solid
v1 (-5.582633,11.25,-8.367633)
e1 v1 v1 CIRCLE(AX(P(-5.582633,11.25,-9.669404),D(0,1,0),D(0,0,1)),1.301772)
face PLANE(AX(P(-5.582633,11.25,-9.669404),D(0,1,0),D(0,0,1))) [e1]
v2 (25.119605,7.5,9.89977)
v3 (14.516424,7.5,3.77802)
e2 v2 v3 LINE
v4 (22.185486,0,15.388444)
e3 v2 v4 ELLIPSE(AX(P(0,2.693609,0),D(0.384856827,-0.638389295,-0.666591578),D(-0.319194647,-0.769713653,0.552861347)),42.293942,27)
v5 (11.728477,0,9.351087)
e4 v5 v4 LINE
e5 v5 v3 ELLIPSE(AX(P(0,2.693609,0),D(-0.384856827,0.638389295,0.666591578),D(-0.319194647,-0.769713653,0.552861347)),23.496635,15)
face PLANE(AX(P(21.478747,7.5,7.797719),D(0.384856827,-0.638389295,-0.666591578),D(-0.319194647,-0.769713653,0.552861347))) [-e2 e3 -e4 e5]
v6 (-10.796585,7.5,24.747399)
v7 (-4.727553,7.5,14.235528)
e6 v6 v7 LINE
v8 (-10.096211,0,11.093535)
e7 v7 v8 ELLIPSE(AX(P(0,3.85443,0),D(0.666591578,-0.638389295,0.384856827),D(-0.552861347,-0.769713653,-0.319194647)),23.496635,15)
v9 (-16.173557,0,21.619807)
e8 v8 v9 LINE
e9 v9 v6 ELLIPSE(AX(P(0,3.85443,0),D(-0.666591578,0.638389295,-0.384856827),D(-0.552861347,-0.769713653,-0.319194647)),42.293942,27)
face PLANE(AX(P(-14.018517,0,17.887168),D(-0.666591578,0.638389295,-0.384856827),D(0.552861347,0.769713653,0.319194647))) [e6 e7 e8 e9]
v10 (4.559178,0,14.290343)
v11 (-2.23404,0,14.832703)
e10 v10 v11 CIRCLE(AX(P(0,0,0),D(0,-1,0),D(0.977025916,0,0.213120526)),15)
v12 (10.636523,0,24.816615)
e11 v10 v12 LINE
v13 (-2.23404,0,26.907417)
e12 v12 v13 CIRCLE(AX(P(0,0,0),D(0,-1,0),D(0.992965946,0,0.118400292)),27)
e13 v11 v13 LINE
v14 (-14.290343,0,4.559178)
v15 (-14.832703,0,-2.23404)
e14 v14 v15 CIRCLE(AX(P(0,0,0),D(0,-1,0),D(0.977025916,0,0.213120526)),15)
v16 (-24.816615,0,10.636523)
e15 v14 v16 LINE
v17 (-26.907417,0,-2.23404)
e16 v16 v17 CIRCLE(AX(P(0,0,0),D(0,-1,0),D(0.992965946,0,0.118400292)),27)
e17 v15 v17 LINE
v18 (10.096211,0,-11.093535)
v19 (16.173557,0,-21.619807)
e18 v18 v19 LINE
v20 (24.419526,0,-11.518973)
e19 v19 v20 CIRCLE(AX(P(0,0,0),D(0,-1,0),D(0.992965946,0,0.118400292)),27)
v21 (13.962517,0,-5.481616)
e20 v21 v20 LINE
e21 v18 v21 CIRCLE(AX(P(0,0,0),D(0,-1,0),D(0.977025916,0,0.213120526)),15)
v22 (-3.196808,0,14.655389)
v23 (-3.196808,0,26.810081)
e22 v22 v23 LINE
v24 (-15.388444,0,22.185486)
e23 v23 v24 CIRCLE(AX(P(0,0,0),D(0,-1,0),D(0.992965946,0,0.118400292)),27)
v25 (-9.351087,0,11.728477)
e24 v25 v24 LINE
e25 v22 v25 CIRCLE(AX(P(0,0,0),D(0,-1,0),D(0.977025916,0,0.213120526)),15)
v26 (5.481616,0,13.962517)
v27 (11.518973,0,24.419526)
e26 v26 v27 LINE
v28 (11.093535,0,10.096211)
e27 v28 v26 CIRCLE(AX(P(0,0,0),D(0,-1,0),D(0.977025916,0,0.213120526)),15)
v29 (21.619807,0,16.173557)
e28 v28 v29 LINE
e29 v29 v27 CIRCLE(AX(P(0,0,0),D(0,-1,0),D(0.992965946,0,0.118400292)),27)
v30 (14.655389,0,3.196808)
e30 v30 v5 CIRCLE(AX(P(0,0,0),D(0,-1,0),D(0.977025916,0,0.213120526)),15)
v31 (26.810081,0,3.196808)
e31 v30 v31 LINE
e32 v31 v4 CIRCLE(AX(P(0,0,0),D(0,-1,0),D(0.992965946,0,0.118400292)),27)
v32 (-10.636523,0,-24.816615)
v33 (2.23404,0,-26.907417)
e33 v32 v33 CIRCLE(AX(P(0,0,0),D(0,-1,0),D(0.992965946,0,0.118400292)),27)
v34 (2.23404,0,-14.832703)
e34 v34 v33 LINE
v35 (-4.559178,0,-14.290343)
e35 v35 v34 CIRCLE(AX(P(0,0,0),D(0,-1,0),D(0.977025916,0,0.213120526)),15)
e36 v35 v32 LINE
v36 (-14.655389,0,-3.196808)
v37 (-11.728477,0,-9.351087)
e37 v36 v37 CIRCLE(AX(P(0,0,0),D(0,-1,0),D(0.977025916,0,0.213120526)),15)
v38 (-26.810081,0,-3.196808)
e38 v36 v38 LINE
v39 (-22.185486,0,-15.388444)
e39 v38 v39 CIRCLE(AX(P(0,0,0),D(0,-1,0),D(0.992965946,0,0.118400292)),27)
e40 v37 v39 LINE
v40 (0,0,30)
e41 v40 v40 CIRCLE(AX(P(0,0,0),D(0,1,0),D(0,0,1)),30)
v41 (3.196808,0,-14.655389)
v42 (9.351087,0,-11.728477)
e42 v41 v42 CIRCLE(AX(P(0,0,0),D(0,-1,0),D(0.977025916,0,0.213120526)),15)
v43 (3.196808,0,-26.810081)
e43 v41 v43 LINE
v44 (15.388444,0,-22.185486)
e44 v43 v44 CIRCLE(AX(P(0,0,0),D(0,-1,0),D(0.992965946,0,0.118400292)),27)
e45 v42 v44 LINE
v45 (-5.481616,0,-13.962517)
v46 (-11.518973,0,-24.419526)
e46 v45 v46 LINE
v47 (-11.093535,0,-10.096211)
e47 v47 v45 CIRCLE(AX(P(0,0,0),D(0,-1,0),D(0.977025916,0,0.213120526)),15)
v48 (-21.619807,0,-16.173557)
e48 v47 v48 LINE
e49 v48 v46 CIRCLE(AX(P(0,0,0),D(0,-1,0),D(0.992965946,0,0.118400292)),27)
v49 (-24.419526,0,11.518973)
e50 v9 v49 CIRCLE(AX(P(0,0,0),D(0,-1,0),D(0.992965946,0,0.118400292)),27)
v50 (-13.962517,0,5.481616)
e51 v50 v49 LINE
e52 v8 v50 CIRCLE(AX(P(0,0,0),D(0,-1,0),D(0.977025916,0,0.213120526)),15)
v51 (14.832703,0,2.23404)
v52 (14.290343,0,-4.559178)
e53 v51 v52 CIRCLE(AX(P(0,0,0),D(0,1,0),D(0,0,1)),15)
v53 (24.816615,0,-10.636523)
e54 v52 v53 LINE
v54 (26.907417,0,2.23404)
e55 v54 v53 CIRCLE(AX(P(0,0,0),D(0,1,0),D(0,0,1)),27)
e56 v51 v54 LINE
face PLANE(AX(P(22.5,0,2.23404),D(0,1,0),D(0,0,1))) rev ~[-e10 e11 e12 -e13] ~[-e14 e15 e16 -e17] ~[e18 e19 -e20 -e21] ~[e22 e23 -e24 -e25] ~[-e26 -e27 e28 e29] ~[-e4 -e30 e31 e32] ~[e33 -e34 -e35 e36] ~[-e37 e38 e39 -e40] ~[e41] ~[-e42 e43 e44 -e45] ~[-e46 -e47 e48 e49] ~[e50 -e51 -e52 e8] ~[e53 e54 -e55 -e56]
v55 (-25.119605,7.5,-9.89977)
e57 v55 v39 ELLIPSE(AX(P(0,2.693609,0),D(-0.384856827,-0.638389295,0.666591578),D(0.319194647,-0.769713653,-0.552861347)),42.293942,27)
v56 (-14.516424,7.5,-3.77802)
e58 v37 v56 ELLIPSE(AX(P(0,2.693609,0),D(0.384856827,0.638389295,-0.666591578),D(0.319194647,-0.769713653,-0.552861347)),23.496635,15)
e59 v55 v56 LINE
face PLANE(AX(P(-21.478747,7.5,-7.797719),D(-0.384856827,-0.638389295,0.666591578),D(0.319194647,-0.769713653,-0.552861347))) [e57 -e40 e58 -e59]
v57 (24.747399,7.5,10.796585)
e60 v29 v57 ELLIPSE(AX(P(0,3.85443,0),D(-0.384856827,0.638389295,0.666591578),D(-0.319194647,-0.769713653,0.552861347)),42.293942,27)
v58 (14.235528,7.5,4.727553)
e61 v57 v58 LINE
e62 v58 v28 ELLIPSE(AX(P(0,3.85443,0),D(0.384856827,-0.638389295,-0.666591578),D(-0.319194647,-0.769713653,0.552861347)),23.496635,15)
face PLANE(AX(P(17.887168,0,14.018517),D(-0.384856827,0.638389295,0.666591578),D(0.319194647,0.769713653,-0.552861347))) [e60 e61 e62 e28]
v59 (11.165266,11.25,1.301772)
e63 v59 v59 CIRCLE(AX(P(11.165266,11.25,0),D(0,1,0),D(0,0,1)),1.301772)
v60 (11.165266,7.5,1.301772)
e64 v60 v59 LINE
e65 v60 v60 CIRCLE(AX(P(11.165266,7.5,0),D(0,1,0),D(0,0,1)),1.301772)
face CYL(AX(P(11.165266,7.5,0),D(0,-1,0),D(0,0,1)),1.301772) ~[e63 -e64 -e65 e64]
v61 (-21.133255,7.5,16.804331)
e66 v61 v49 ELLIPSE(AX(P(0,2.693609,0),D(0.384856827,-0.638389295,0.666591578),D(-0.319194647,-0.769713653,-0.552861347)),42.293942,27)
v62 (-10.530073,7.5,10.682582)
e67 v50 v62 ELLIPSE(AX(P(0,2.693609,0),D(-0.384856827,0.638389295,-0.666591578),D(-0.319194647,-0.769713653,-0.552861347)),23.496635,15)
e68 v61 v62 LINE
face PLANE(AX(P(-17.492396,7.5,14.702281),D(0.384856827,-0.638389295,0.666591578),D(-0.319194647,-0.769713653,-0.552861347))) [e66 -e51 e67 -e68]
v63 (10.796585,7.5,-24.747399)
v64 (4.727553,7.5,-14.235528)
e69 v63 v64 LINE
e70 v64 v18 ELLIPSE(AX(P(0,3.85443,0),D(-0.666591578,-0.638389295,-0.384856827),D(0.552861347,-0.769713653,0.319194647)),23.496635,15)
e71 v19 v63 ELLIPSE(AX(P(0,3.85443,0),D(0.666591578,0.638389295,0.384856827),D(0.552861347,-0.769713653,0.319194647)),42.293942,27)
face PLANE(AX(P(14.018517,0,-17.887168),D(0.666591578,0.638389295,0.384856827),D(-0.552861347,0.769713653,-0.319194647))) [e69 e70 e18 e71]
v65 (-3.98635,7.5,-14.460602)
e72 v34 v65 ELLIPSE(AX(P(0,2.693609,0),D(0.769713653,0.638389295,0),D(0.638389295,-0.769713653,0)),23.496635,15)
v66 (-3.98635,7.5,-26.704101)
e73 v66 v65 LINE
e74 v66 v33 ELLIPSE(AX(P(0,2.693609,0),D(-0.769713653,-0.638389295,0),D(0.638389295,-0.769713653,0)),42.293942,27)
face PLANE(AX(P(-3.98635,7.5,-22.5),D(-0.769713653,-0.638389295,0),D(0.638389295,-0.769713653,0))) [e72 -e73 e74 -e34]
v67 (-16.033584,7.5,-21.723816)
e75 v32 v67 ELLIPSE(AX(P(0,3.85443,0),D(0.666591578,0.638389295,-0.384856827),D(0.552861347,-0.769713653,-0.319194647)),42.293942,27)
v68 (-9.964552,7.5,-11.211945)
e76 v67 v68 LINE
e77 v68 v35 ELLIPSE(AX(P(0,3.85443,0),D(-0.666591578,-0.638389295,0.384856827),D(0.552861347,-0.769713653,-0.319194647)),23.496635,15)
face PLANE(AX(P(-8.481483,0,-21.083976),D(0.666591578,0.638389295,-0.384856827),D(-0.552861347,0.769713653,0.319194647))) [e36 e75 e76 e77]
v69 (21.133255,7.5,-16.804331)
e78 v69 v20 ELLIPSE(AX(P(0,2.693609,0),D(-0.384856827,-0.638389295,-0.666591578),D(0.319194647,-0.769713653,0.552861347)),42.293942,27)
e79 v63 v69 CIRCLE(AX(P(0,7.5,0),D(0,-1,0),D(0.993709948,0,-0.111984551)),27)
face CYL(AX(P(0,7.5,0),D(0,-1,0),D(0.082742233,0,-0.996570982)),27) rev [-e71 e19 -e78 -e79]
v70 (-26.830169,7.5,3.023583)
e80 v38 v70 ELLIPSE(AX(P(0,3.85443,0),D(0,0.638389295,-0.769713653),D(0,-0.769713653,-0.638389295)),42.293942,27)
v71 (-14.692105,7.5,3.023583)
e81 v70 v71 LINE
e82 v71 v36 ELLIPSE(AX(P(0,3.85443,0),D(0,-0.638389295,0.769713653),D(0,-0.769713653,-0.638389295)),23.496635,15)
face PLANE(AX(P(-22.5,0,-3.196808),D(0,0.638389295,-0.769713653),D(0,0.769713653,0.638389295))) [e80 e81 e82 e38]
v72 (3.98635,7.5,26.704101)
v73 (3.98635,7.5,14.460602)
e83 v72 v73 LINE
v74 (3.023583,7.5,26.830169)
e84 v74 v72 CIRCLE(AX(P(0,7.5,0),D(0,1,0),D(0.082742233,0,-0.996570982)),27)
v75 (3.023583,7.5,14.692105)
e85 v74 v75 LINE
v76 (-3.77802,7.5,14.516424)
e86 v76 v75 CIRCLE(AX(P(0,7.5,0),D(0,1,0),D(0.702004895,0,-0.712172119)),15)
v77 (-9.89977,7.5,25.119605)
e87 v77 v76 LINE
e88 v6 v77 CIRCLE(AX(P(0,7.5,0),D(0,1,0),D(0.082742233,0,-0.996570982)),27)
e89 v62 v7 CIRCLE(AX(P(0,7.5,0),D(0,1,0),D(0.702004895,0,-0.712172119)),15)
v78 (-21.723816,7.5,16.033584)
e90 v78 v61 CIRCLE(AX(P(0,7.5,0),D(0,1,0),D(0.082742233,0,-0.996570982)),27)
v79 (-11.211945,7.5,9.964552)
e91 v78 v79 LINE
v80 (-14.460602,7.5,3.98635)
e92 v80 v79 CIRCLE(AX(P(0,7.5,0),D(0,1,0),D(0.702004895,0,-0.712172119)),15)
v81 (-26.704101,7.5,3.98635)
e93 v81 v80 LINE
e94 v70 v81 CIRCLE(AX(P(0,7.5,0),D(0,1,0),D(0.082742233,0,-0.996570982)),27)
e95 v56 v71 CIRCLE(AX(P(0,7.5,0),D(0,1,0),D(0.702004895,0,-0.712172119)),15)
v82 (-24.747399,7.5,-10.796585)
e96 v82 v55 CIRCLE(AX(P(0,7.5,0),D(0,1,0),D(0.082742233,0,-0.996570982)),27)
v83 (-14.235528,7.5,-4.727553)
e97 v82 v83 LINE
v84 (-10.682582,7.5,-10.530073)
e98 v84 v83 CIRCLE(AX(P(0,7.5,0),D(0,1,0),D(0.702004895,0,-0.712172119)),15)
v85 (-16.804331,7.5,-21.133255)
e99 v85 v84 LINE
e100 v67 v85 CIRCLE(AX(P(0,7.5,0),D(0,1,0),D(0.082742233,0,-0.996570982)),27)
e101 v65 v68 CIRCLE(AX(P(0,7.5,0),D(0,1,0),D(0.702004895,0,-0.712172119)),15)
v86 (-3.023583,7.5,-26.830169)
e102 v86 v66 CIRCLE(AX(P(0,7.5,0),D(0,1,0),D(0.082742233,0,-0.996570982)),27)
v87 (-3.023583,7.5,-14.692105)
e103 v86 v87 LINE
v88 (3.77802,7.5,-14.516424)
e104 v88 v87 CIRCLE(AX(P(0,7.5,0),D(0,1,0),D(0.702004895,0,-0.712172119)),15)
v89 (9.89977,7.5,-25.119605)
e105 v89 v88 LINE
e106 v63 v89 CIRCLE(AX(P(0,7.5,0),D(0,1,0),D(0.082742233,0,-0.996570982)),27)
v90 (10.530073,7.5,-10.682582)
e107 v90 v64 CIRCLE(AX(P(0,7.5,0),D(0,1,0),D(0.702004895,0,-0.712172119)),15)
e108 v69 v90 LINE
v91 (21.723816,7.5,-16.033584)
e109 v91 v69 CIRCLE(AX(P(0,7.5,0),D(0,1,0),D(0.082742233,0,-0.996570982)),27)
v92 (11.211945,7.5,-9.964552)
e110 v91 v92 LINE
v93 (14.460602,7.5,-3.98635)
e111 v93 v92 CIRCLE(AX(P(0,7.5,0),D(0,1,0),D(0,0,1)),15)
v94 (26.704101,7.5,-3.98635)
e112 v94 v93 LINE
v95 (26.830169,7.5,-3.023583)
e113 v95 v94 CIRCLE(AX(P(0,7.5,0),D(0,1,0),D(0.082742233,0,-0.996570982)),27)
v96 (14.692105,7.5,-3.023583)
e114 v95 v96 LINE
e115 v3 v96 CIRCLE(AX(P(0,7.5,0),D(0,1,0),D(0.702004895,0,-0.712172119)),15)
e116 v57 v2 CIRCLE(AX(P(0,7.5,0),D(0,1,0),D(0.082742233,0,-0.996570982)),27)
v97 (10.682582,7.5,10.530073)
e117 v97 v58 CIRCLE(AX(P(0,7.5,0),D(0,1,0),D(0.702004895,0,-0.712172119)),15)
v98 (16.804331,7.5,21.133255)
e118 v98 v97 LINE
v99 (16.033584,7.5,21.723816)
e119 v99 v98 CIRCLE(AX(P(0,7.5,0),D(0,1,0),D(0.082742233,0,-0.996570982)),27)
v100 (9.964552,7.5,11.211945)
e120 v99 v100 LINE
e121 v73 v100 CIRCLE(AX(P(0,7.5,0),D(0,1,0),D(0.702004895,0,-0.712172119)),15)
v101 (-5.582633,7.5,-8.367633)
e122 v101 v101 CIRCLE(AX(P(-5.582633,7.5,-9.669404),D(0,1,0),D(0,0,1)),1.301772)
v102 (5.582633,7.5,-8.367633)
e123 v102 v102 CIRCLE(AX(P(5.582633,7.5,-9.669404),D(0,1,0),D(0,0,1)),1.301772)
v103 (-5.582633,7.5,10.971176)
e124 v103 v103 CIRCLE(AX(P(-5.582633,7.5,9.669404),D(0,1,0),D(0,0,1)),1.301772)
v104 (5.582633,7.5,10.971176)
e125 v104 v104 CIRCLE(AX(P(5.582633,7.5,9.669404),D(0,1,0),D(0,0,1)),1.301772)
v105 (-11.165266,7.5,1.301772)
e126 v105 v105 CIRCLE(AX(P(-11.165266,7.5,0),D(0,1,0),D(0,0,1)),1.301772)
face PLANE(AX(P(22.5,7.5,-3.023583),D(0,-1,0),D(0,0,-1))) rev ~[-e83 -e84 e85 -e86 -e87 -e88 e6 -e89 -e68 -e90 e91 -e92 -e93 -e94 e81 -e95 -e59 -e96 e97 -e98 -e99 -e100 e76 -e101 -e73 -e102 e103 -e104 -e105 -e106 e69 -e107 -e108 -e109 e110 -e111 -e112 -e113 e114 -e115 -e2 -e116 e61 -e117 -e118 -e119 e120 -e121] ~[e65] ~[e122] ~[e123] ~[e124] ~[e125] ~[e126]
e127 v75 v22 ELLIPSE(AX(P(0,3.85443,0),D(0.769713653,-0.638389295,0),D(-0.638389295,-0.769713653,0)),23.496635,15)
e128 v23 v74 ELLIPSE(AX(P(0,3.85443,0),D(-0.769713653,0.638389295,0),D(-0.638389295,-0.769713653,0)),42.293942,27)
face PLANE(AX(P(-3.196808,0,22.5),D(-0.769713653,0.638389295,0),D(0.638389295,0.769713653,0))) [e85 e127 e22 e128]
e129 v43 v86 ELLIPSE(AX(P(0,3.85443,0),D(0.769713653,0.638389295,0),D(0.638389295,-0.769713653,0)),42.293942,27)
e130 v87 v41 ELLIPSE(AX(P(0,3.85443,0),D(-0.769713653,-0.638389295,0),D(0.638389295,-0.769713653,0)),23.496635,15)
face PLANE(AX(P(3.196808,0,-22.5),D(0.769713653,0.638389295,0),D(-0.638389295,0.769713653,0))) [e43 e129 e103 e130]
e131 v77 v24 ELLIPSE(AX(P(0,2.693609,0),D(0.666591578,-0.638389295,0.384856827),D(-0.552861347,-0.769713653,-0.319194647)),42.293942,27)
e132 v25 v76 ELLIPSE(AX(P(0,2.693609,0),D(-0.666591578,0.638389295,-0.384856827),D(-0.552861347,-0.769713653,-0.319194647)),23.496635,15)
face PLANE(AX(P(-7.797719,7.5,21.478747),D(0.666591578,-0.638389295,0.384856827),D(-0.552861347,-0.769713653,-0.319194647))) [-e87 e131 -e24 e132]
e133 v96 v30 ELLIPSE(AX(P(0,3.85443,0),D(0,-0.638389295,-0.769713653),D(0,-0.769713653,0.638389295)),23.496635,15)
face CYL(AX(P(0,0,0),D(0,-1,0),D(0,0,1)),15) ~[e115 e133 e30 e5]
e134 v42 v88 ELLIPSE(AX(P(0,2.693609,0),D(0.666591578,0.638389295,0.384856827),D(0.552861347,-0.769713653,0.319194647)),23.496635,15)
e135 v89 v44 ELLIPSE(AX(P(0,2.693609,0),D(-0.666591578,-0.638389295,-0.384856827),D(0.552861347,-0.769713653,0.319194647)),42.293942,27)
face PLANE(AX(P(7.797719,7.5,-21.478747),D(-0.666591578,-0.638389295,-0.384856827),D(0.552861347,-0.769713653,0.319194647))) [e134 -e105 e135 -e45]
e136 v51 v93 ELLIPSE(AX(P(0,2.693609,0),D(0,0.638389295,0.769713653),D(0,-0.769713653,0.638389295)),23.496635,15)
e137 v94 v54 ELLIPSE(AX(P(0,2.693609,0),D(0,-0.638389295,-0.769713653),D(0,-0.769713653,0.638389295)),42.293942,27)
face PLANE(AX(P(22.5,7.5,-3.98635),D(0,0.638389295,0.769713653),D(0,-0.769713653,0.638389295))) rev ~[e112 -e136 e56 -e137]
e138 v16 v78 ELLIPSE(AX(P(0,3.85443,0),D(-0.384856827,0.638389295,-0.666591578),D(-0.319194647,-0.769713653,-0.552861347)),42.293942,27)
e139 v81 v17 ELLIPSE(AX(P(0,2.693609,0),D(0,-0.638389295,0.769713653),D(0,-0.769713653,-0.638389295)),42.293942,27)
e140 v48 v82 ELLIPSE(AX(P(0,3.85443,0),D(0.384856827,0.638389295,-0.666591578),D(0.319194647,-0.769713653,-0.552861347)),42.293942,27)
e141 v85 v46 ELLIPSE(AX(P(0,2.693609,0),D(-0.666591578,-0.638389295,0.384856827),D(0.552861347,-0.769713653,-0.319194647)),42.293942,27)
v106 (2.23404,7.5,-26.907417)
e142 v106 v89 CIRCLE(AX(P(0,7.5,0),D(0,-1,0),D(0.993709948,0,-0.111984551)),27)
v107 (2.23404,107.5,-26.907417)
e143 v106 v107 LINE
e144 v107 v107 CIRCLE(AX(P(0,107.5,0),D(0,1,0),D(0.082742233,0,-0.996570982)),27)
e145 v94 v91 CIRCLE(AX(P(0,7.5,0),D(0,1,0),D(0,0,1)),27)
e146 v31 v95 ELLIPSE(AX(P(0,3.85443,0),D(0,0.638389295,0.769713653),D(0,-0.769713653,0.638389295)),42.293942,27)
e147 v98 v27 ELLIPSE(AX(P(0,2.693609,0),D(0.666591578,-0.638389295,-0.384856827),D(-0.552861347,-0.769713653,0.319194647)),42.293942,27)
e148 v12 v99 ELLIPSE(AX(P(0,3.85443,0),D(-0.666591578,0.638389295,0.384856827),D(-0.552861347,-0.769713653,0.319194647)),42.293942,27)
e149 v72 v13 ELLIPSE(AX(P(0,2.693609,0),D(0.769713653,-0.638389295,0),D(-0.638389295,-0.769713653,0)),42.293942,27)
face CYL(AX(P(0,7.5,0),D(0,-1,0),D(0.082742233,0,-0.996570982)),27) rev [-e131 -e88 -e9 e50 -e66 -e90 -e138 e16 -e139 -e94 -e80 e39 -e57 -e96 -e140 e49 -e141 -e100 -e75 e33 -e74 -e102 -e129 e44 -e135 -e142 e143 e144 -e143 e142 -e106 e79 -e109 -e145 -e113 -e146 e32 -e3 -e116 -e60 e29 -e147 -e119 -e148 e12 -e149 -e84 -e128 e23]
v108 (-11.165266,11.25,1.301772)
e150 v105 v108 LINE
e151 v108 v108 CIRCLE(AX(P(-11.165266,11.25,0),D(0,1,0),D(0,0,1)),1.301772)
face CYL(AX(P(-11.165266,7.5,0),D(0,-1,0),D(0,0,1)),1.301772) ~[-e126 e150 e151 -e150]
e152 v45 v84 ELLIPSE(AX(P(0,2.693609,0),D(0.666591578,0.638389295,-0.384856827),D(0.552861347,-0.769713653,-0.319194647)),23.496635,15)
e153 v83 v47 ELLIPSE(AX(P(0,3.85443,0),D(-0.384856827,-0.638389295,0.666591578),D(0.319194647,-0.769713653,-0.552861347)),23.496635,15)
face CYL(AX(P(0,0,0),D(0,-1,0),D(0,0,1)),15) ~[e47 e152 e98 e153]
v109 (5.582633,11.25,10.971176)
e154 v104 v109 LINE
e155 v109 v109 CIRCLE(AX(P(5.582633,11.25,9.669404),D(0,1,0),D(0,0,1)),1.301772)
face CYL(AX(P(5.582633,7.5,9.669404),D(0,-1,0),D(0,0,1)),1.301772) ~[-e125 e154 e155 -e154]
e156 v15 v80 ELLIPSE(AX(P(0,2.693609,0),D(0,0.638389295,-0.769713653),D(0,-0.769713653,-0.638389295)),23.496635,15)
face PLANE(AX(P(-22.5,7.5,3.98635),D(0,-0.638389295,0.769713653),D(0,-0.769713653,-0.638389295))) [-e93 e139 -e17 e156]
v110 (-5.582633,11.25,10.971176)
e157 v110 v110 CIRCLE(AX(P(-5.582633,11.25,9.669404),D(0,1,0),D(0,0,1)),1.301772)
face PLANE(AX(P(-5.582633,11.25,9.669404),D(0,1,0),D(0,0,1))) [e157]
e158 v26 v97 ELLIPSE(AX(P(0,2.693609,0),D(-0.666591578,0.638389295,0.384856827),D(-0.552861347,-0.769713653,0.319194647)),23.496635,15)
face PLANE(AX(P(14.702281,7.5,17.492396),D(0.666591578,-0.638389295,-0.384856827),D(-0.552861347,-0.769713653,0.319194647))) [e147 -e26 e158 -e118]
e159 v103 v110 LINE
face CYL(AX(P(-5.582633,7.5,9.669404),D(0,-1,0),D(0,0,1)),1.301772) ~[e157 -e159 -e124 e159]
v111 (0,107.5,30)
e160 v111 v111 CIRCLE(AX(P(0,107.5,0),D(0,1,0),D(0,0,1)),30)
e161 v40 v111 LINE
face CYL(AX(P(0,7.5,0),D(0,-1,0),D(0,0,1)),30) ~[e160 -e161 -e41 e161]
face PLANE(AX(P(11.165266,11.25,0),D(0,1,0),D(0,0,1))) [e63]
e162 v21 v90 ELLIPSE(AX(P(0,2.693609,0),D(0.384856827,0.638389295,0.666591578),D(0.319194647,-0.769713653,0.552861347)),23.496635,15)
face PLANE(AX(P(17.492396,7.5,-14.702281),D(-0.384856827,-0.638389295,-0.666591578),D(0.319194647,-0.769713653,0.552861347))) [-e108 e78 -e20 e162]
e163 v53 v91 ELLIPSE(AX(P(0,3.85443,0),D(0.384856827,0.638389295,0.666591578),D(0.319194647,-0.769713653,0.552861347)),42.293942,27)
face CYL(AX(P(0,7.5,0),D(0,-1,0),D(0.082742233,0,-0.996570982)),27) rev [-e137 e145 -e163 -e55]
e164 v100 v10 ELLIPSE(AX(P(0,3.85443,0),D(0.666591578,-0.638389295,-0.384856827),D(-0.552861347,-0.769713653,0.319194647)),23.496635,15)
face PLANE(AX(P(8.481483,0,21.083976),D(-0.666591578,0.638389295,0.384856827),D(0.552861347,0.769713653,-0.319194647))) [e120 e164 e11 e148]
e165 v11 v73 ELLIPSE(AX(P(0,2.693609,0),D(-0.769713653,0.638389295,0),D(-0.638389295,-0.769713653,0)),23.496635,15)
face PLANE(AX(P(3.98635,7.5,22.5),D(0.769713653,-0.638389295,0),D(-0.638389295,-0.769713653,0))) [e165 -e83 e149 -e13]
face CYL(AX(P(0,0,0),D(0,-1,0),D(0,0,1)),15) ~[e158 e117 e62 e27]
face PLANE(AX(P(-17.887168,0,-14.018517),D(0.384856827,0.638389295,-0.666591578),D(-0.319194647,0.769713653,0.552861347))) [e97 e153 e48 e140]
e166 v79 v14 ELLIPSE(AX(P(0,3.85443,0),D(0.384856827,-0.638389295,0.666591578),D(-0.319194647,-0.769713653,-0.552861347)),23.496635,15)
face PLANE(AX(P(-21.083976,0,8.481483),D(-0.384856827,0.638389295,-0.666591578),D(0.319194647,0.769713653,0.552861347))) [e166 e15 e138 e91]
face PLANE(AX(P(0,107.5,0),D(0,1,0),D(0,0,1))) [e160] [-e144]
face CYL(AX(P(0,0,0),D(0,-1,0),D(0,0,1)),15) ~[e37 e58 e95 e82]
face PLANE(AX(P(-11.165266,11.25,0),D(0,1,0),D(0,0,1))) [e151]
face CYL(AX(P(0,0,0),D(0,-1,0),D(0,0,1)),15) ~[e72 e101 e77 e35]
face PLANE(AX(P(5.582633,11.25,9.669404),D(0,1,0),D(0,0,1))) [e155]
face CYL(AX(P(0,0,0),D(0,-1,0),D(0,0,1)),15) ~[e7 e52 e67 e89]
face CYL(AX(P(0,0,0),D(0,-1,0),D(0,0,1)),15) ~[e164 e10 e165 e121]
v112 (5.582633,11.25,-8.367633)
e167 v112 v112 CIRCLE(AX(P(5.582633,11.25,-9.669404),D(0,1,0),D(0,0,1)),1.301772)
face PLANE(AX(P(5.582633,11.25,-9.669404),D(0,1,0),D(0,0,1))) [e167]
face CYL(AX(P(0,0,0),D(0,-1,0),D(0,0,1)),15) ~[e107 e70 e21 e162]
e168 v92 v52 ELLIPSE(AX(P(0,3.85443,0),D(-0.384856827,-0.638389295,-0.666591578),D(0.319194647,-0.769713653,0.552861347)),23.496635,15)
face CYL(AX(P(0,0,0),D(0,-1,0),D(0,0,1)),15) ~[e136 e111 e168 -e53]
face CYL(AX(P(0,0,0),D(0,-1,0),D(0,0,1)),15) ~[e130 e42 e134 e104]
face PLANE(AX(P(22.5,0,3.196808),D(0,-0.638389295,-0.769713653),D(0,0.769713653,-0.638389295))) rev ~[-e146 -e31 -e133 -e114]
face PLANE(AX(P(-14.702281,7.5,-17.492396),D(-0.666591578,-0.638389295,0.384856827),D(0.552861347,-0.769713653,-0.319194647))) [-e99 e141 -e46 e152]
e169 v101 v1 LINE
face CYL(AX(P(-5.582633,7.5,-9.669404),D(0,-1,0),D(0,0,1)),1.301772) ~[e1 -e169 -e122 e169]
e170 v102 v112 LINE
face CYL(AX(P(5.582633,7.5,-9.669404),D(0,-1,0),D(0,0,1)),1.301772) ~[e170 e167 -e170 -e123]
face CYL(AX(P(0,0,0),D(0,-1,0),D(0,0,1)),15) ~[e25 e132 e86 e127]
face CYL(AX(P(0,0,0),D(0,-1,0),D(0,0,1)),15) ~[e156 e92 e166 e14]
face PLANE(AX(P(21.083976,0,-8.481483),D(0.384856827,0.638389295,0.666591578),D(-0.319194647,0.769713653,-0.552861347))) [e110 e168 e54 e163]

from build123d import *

# Parameters (mm, degrees)
SKETCH1_R                            = 20
BOSS_EXTRUDE1_DEPTH                  = 10
SKETCH1_R_2                          = 40
SKETCH1_R_3                          = 36
BOSS_EXTRUDE1_2_DEPTH                = 10
BOSS_EXTRUDE2_REACH                  = 89.446
BOSS_EXTRUDE2_END_RADIUS             = 36
BOSS_EXTRUDE2_START                  = 30
BOSS_EXTRUDE2_DIRECTION_2_REACH      = 89.446
BOSS_EXTRUDE2_DIRECTION_2_END_RADIUS = 20
CIRPATTERN1_COUNT                    = 12
SKETCH5_R                            = 1.735695499
BOSS_EXTRUDE3_DEPTH                  = 5
SCALE1_SCALE                         = 0.75
SKETCH6_R                            = 30
SKETCH6_R_2                          = 27
BOSS_EXTRUDE4_DEPTH                  = 100


with BuildPart() as part:
    # Sketch1 → Boss-Extrude1 (new body)
    with BuildSketch(Plane(origin=(0, 0, 0), x_dir=(1, 0, 0), z_dir=(0, 1, 0))):
        with Locations(Location((0, 0, 0), (0, 0, 270))):
            Circle(SKETCH1_R)
    extrude(amount=BOSS_EXTRUDE1_DEPTH)


with BuildPart() as body_2:
    # Sketch1 → Boss-Extrude1 2 (new body)
    with BuildSketch(Plane(origin=(0, 0, 0), x_dir=(1, 0, 0), z_dir=(0, 1, 0))):
        with Locations(Location((0, 0, 0), (0, 0, 270))):
            Circle(SKETCH1_R_2)
        with Locations(Location((0, 0, 0), (0, 0, 270))):
            Circle(SKETCH1_R_3, mode=Mode.SUBTRACT)
    extrude(amount=BOSS_EXTRUDE1_2_DEPTH)


    add(part.part)  # Boss-Extrude2 merges part
    # Boss-Extrude2: up to this cylinder (the profile starts inside it)
    boss_extrude2_end = Plane(origin=(0, 5, 0), z_dir=(0, -1, 0)) * Cylinder(BOSS_EXTRUDE2_END_RADIUS, 251.892, mode=Mode.PRIVATE)
    # Sketch4 → Boss-Extrude2 (add, up to the surface)
    with BuildSketch(Plane(origin=(0, 0, 0), x_dir=(0, 0, -1), z_dir=(1, 0, 0)).offset(BOSS_EXTRUDE2_START), mode=Mode.PRIVATE) as boss_extrude2_sk1:
        Polygon((-4.262410526, 0), (4.031443844, 10), (5.315133993, 10), (-2.978720377, 0), align=None)
    boss_extrude2_tool1 = extrude(boss_extrude2_sk1.sketch, amount=BOSS_EXTRUDE2_REACH, mode=Mode.PRIVATE) & boss_extrude2_end
    boss_extrude2 = boss_extrude2_tool1.solids().sort_by_distance((30, 5, -0.526362))[0]
    add(boss_extrude2)

    # Boss-Extrude2 direction 2: up to this cylinder (the profile starts outside it)
    boss_extrude2_direction_2_end = Plane(origin=(0, 5, 0), z_dir=(0, -1, 0)) * Cylinder(BOSS_EXTRUDE2_DIRECTION_2_END_RADIUS, 219.892, mode=Mode.PRIVATE)
    # Sketch4 → Boss-Extrude2 direction 2 (add, up to the surface)
    with BuildSketch(Plane(origin=(0, 0, 0), x_dir=(0, 0, -1), z_dir=(1, 0, 0)).offset(BOSS_EXTRUDE2_START), mode=Mode.PRIVATE) as boss_extrude2_direction_2_sk1:
        Polygon((-4.262410526, 0), (4.031443844, 10), (5.315133993, 10), (-2.978720377, 0), align=None)
    boss_extrude2_direction_2_tool1 = extrude(boss_extrude2_direction_2_sk1.sketch, amount=-BOSS_EXTRUDE2_DIRECTION_2_REACH, mode=Mode.PRIVATE) - boss_extrude2_direction_2_end
    boss_extrude2_direction_2 = boss_extrude2_direction_2_tool1.solids().sort_by_distance((30, 5, -0.526362))[0]
    add(boss_extrude2_direction_2)
    boss_extrude2 = boss_extrude2 + boss_extrude2_direction_2  # both directions under the feature's name, for the pattern or mirror that repeats it

    # CirPattern1: Boss-Extrude2 ×12 about axis
    cirpattern1_axis = Axis((0, 0, 0), (0, 1, 0))
    for i in range(1, CIRPATTERN1_COUNT):
        add(boss_extrude2.rotate(cirpattern1_axis, i * 360 / CIRPATTERN1_COUNT))

    # Sketch5 → Boss-Extrude3 (add)
    with BuildSketch(Plane(origin=(0, 10, 0), x_dir=(1, 0, 0), z_dir=(0, 1, 0))):
        with Locations(Location((-14.887021655, 0, 0), (0, 0, 270))):
            Circle(SKETCH5_R)
        with Locations(Location((-7.443510827, 12.89253894, 0), (0, 0, 270))):
            Circle(SKETCH5_R)
        with Locations(Location((7.443510827, 12.89253894, 0), (0, 0, 270))):
            Circle(SKETCH5_R)
        with Locations(Location((14.887021655, 0, 0), (0, 0, 270))):
            Circle(SKETCH5_R)
        with Locations(Location((7.443510827, -12.89253894, 0), (0, 0, 270))):
            Circle(SKETCH5_R)
        with Locations(Location((-7.443510827, -12.89253894, 0), (0, 0, 270))):
            Circle(SKETCH5_R)
    extrude(amount=BOSS_EXTRUDE3_DEPTH)


with BuildPart() as body_2_1:
    # Scale1: scaled about (0, 0, 0)
    add(body_2.part.scale(SCALE1_SCALE))

    # Sketch6 → Boss-Extrude4 (add)
    with BuildSketch(Plane(origin=(0, 7.5, 0), x_dir=(1, 0, 0), z_dir=(0, 1, 0))):
        with Locations(Location((0, 0, 0), (0, 0, 270))):
            Circle(SKETCH6_R)
        with Locations(Location((0, 0, 0), (0, 0, 85.253793096))):
            Circle(SKETCH6_R_2, mode=Mode.SUBTRACT)
    extrude(amount=BOSS_EXTRUDE4_DEPTH)


solid = body_2_1.part
